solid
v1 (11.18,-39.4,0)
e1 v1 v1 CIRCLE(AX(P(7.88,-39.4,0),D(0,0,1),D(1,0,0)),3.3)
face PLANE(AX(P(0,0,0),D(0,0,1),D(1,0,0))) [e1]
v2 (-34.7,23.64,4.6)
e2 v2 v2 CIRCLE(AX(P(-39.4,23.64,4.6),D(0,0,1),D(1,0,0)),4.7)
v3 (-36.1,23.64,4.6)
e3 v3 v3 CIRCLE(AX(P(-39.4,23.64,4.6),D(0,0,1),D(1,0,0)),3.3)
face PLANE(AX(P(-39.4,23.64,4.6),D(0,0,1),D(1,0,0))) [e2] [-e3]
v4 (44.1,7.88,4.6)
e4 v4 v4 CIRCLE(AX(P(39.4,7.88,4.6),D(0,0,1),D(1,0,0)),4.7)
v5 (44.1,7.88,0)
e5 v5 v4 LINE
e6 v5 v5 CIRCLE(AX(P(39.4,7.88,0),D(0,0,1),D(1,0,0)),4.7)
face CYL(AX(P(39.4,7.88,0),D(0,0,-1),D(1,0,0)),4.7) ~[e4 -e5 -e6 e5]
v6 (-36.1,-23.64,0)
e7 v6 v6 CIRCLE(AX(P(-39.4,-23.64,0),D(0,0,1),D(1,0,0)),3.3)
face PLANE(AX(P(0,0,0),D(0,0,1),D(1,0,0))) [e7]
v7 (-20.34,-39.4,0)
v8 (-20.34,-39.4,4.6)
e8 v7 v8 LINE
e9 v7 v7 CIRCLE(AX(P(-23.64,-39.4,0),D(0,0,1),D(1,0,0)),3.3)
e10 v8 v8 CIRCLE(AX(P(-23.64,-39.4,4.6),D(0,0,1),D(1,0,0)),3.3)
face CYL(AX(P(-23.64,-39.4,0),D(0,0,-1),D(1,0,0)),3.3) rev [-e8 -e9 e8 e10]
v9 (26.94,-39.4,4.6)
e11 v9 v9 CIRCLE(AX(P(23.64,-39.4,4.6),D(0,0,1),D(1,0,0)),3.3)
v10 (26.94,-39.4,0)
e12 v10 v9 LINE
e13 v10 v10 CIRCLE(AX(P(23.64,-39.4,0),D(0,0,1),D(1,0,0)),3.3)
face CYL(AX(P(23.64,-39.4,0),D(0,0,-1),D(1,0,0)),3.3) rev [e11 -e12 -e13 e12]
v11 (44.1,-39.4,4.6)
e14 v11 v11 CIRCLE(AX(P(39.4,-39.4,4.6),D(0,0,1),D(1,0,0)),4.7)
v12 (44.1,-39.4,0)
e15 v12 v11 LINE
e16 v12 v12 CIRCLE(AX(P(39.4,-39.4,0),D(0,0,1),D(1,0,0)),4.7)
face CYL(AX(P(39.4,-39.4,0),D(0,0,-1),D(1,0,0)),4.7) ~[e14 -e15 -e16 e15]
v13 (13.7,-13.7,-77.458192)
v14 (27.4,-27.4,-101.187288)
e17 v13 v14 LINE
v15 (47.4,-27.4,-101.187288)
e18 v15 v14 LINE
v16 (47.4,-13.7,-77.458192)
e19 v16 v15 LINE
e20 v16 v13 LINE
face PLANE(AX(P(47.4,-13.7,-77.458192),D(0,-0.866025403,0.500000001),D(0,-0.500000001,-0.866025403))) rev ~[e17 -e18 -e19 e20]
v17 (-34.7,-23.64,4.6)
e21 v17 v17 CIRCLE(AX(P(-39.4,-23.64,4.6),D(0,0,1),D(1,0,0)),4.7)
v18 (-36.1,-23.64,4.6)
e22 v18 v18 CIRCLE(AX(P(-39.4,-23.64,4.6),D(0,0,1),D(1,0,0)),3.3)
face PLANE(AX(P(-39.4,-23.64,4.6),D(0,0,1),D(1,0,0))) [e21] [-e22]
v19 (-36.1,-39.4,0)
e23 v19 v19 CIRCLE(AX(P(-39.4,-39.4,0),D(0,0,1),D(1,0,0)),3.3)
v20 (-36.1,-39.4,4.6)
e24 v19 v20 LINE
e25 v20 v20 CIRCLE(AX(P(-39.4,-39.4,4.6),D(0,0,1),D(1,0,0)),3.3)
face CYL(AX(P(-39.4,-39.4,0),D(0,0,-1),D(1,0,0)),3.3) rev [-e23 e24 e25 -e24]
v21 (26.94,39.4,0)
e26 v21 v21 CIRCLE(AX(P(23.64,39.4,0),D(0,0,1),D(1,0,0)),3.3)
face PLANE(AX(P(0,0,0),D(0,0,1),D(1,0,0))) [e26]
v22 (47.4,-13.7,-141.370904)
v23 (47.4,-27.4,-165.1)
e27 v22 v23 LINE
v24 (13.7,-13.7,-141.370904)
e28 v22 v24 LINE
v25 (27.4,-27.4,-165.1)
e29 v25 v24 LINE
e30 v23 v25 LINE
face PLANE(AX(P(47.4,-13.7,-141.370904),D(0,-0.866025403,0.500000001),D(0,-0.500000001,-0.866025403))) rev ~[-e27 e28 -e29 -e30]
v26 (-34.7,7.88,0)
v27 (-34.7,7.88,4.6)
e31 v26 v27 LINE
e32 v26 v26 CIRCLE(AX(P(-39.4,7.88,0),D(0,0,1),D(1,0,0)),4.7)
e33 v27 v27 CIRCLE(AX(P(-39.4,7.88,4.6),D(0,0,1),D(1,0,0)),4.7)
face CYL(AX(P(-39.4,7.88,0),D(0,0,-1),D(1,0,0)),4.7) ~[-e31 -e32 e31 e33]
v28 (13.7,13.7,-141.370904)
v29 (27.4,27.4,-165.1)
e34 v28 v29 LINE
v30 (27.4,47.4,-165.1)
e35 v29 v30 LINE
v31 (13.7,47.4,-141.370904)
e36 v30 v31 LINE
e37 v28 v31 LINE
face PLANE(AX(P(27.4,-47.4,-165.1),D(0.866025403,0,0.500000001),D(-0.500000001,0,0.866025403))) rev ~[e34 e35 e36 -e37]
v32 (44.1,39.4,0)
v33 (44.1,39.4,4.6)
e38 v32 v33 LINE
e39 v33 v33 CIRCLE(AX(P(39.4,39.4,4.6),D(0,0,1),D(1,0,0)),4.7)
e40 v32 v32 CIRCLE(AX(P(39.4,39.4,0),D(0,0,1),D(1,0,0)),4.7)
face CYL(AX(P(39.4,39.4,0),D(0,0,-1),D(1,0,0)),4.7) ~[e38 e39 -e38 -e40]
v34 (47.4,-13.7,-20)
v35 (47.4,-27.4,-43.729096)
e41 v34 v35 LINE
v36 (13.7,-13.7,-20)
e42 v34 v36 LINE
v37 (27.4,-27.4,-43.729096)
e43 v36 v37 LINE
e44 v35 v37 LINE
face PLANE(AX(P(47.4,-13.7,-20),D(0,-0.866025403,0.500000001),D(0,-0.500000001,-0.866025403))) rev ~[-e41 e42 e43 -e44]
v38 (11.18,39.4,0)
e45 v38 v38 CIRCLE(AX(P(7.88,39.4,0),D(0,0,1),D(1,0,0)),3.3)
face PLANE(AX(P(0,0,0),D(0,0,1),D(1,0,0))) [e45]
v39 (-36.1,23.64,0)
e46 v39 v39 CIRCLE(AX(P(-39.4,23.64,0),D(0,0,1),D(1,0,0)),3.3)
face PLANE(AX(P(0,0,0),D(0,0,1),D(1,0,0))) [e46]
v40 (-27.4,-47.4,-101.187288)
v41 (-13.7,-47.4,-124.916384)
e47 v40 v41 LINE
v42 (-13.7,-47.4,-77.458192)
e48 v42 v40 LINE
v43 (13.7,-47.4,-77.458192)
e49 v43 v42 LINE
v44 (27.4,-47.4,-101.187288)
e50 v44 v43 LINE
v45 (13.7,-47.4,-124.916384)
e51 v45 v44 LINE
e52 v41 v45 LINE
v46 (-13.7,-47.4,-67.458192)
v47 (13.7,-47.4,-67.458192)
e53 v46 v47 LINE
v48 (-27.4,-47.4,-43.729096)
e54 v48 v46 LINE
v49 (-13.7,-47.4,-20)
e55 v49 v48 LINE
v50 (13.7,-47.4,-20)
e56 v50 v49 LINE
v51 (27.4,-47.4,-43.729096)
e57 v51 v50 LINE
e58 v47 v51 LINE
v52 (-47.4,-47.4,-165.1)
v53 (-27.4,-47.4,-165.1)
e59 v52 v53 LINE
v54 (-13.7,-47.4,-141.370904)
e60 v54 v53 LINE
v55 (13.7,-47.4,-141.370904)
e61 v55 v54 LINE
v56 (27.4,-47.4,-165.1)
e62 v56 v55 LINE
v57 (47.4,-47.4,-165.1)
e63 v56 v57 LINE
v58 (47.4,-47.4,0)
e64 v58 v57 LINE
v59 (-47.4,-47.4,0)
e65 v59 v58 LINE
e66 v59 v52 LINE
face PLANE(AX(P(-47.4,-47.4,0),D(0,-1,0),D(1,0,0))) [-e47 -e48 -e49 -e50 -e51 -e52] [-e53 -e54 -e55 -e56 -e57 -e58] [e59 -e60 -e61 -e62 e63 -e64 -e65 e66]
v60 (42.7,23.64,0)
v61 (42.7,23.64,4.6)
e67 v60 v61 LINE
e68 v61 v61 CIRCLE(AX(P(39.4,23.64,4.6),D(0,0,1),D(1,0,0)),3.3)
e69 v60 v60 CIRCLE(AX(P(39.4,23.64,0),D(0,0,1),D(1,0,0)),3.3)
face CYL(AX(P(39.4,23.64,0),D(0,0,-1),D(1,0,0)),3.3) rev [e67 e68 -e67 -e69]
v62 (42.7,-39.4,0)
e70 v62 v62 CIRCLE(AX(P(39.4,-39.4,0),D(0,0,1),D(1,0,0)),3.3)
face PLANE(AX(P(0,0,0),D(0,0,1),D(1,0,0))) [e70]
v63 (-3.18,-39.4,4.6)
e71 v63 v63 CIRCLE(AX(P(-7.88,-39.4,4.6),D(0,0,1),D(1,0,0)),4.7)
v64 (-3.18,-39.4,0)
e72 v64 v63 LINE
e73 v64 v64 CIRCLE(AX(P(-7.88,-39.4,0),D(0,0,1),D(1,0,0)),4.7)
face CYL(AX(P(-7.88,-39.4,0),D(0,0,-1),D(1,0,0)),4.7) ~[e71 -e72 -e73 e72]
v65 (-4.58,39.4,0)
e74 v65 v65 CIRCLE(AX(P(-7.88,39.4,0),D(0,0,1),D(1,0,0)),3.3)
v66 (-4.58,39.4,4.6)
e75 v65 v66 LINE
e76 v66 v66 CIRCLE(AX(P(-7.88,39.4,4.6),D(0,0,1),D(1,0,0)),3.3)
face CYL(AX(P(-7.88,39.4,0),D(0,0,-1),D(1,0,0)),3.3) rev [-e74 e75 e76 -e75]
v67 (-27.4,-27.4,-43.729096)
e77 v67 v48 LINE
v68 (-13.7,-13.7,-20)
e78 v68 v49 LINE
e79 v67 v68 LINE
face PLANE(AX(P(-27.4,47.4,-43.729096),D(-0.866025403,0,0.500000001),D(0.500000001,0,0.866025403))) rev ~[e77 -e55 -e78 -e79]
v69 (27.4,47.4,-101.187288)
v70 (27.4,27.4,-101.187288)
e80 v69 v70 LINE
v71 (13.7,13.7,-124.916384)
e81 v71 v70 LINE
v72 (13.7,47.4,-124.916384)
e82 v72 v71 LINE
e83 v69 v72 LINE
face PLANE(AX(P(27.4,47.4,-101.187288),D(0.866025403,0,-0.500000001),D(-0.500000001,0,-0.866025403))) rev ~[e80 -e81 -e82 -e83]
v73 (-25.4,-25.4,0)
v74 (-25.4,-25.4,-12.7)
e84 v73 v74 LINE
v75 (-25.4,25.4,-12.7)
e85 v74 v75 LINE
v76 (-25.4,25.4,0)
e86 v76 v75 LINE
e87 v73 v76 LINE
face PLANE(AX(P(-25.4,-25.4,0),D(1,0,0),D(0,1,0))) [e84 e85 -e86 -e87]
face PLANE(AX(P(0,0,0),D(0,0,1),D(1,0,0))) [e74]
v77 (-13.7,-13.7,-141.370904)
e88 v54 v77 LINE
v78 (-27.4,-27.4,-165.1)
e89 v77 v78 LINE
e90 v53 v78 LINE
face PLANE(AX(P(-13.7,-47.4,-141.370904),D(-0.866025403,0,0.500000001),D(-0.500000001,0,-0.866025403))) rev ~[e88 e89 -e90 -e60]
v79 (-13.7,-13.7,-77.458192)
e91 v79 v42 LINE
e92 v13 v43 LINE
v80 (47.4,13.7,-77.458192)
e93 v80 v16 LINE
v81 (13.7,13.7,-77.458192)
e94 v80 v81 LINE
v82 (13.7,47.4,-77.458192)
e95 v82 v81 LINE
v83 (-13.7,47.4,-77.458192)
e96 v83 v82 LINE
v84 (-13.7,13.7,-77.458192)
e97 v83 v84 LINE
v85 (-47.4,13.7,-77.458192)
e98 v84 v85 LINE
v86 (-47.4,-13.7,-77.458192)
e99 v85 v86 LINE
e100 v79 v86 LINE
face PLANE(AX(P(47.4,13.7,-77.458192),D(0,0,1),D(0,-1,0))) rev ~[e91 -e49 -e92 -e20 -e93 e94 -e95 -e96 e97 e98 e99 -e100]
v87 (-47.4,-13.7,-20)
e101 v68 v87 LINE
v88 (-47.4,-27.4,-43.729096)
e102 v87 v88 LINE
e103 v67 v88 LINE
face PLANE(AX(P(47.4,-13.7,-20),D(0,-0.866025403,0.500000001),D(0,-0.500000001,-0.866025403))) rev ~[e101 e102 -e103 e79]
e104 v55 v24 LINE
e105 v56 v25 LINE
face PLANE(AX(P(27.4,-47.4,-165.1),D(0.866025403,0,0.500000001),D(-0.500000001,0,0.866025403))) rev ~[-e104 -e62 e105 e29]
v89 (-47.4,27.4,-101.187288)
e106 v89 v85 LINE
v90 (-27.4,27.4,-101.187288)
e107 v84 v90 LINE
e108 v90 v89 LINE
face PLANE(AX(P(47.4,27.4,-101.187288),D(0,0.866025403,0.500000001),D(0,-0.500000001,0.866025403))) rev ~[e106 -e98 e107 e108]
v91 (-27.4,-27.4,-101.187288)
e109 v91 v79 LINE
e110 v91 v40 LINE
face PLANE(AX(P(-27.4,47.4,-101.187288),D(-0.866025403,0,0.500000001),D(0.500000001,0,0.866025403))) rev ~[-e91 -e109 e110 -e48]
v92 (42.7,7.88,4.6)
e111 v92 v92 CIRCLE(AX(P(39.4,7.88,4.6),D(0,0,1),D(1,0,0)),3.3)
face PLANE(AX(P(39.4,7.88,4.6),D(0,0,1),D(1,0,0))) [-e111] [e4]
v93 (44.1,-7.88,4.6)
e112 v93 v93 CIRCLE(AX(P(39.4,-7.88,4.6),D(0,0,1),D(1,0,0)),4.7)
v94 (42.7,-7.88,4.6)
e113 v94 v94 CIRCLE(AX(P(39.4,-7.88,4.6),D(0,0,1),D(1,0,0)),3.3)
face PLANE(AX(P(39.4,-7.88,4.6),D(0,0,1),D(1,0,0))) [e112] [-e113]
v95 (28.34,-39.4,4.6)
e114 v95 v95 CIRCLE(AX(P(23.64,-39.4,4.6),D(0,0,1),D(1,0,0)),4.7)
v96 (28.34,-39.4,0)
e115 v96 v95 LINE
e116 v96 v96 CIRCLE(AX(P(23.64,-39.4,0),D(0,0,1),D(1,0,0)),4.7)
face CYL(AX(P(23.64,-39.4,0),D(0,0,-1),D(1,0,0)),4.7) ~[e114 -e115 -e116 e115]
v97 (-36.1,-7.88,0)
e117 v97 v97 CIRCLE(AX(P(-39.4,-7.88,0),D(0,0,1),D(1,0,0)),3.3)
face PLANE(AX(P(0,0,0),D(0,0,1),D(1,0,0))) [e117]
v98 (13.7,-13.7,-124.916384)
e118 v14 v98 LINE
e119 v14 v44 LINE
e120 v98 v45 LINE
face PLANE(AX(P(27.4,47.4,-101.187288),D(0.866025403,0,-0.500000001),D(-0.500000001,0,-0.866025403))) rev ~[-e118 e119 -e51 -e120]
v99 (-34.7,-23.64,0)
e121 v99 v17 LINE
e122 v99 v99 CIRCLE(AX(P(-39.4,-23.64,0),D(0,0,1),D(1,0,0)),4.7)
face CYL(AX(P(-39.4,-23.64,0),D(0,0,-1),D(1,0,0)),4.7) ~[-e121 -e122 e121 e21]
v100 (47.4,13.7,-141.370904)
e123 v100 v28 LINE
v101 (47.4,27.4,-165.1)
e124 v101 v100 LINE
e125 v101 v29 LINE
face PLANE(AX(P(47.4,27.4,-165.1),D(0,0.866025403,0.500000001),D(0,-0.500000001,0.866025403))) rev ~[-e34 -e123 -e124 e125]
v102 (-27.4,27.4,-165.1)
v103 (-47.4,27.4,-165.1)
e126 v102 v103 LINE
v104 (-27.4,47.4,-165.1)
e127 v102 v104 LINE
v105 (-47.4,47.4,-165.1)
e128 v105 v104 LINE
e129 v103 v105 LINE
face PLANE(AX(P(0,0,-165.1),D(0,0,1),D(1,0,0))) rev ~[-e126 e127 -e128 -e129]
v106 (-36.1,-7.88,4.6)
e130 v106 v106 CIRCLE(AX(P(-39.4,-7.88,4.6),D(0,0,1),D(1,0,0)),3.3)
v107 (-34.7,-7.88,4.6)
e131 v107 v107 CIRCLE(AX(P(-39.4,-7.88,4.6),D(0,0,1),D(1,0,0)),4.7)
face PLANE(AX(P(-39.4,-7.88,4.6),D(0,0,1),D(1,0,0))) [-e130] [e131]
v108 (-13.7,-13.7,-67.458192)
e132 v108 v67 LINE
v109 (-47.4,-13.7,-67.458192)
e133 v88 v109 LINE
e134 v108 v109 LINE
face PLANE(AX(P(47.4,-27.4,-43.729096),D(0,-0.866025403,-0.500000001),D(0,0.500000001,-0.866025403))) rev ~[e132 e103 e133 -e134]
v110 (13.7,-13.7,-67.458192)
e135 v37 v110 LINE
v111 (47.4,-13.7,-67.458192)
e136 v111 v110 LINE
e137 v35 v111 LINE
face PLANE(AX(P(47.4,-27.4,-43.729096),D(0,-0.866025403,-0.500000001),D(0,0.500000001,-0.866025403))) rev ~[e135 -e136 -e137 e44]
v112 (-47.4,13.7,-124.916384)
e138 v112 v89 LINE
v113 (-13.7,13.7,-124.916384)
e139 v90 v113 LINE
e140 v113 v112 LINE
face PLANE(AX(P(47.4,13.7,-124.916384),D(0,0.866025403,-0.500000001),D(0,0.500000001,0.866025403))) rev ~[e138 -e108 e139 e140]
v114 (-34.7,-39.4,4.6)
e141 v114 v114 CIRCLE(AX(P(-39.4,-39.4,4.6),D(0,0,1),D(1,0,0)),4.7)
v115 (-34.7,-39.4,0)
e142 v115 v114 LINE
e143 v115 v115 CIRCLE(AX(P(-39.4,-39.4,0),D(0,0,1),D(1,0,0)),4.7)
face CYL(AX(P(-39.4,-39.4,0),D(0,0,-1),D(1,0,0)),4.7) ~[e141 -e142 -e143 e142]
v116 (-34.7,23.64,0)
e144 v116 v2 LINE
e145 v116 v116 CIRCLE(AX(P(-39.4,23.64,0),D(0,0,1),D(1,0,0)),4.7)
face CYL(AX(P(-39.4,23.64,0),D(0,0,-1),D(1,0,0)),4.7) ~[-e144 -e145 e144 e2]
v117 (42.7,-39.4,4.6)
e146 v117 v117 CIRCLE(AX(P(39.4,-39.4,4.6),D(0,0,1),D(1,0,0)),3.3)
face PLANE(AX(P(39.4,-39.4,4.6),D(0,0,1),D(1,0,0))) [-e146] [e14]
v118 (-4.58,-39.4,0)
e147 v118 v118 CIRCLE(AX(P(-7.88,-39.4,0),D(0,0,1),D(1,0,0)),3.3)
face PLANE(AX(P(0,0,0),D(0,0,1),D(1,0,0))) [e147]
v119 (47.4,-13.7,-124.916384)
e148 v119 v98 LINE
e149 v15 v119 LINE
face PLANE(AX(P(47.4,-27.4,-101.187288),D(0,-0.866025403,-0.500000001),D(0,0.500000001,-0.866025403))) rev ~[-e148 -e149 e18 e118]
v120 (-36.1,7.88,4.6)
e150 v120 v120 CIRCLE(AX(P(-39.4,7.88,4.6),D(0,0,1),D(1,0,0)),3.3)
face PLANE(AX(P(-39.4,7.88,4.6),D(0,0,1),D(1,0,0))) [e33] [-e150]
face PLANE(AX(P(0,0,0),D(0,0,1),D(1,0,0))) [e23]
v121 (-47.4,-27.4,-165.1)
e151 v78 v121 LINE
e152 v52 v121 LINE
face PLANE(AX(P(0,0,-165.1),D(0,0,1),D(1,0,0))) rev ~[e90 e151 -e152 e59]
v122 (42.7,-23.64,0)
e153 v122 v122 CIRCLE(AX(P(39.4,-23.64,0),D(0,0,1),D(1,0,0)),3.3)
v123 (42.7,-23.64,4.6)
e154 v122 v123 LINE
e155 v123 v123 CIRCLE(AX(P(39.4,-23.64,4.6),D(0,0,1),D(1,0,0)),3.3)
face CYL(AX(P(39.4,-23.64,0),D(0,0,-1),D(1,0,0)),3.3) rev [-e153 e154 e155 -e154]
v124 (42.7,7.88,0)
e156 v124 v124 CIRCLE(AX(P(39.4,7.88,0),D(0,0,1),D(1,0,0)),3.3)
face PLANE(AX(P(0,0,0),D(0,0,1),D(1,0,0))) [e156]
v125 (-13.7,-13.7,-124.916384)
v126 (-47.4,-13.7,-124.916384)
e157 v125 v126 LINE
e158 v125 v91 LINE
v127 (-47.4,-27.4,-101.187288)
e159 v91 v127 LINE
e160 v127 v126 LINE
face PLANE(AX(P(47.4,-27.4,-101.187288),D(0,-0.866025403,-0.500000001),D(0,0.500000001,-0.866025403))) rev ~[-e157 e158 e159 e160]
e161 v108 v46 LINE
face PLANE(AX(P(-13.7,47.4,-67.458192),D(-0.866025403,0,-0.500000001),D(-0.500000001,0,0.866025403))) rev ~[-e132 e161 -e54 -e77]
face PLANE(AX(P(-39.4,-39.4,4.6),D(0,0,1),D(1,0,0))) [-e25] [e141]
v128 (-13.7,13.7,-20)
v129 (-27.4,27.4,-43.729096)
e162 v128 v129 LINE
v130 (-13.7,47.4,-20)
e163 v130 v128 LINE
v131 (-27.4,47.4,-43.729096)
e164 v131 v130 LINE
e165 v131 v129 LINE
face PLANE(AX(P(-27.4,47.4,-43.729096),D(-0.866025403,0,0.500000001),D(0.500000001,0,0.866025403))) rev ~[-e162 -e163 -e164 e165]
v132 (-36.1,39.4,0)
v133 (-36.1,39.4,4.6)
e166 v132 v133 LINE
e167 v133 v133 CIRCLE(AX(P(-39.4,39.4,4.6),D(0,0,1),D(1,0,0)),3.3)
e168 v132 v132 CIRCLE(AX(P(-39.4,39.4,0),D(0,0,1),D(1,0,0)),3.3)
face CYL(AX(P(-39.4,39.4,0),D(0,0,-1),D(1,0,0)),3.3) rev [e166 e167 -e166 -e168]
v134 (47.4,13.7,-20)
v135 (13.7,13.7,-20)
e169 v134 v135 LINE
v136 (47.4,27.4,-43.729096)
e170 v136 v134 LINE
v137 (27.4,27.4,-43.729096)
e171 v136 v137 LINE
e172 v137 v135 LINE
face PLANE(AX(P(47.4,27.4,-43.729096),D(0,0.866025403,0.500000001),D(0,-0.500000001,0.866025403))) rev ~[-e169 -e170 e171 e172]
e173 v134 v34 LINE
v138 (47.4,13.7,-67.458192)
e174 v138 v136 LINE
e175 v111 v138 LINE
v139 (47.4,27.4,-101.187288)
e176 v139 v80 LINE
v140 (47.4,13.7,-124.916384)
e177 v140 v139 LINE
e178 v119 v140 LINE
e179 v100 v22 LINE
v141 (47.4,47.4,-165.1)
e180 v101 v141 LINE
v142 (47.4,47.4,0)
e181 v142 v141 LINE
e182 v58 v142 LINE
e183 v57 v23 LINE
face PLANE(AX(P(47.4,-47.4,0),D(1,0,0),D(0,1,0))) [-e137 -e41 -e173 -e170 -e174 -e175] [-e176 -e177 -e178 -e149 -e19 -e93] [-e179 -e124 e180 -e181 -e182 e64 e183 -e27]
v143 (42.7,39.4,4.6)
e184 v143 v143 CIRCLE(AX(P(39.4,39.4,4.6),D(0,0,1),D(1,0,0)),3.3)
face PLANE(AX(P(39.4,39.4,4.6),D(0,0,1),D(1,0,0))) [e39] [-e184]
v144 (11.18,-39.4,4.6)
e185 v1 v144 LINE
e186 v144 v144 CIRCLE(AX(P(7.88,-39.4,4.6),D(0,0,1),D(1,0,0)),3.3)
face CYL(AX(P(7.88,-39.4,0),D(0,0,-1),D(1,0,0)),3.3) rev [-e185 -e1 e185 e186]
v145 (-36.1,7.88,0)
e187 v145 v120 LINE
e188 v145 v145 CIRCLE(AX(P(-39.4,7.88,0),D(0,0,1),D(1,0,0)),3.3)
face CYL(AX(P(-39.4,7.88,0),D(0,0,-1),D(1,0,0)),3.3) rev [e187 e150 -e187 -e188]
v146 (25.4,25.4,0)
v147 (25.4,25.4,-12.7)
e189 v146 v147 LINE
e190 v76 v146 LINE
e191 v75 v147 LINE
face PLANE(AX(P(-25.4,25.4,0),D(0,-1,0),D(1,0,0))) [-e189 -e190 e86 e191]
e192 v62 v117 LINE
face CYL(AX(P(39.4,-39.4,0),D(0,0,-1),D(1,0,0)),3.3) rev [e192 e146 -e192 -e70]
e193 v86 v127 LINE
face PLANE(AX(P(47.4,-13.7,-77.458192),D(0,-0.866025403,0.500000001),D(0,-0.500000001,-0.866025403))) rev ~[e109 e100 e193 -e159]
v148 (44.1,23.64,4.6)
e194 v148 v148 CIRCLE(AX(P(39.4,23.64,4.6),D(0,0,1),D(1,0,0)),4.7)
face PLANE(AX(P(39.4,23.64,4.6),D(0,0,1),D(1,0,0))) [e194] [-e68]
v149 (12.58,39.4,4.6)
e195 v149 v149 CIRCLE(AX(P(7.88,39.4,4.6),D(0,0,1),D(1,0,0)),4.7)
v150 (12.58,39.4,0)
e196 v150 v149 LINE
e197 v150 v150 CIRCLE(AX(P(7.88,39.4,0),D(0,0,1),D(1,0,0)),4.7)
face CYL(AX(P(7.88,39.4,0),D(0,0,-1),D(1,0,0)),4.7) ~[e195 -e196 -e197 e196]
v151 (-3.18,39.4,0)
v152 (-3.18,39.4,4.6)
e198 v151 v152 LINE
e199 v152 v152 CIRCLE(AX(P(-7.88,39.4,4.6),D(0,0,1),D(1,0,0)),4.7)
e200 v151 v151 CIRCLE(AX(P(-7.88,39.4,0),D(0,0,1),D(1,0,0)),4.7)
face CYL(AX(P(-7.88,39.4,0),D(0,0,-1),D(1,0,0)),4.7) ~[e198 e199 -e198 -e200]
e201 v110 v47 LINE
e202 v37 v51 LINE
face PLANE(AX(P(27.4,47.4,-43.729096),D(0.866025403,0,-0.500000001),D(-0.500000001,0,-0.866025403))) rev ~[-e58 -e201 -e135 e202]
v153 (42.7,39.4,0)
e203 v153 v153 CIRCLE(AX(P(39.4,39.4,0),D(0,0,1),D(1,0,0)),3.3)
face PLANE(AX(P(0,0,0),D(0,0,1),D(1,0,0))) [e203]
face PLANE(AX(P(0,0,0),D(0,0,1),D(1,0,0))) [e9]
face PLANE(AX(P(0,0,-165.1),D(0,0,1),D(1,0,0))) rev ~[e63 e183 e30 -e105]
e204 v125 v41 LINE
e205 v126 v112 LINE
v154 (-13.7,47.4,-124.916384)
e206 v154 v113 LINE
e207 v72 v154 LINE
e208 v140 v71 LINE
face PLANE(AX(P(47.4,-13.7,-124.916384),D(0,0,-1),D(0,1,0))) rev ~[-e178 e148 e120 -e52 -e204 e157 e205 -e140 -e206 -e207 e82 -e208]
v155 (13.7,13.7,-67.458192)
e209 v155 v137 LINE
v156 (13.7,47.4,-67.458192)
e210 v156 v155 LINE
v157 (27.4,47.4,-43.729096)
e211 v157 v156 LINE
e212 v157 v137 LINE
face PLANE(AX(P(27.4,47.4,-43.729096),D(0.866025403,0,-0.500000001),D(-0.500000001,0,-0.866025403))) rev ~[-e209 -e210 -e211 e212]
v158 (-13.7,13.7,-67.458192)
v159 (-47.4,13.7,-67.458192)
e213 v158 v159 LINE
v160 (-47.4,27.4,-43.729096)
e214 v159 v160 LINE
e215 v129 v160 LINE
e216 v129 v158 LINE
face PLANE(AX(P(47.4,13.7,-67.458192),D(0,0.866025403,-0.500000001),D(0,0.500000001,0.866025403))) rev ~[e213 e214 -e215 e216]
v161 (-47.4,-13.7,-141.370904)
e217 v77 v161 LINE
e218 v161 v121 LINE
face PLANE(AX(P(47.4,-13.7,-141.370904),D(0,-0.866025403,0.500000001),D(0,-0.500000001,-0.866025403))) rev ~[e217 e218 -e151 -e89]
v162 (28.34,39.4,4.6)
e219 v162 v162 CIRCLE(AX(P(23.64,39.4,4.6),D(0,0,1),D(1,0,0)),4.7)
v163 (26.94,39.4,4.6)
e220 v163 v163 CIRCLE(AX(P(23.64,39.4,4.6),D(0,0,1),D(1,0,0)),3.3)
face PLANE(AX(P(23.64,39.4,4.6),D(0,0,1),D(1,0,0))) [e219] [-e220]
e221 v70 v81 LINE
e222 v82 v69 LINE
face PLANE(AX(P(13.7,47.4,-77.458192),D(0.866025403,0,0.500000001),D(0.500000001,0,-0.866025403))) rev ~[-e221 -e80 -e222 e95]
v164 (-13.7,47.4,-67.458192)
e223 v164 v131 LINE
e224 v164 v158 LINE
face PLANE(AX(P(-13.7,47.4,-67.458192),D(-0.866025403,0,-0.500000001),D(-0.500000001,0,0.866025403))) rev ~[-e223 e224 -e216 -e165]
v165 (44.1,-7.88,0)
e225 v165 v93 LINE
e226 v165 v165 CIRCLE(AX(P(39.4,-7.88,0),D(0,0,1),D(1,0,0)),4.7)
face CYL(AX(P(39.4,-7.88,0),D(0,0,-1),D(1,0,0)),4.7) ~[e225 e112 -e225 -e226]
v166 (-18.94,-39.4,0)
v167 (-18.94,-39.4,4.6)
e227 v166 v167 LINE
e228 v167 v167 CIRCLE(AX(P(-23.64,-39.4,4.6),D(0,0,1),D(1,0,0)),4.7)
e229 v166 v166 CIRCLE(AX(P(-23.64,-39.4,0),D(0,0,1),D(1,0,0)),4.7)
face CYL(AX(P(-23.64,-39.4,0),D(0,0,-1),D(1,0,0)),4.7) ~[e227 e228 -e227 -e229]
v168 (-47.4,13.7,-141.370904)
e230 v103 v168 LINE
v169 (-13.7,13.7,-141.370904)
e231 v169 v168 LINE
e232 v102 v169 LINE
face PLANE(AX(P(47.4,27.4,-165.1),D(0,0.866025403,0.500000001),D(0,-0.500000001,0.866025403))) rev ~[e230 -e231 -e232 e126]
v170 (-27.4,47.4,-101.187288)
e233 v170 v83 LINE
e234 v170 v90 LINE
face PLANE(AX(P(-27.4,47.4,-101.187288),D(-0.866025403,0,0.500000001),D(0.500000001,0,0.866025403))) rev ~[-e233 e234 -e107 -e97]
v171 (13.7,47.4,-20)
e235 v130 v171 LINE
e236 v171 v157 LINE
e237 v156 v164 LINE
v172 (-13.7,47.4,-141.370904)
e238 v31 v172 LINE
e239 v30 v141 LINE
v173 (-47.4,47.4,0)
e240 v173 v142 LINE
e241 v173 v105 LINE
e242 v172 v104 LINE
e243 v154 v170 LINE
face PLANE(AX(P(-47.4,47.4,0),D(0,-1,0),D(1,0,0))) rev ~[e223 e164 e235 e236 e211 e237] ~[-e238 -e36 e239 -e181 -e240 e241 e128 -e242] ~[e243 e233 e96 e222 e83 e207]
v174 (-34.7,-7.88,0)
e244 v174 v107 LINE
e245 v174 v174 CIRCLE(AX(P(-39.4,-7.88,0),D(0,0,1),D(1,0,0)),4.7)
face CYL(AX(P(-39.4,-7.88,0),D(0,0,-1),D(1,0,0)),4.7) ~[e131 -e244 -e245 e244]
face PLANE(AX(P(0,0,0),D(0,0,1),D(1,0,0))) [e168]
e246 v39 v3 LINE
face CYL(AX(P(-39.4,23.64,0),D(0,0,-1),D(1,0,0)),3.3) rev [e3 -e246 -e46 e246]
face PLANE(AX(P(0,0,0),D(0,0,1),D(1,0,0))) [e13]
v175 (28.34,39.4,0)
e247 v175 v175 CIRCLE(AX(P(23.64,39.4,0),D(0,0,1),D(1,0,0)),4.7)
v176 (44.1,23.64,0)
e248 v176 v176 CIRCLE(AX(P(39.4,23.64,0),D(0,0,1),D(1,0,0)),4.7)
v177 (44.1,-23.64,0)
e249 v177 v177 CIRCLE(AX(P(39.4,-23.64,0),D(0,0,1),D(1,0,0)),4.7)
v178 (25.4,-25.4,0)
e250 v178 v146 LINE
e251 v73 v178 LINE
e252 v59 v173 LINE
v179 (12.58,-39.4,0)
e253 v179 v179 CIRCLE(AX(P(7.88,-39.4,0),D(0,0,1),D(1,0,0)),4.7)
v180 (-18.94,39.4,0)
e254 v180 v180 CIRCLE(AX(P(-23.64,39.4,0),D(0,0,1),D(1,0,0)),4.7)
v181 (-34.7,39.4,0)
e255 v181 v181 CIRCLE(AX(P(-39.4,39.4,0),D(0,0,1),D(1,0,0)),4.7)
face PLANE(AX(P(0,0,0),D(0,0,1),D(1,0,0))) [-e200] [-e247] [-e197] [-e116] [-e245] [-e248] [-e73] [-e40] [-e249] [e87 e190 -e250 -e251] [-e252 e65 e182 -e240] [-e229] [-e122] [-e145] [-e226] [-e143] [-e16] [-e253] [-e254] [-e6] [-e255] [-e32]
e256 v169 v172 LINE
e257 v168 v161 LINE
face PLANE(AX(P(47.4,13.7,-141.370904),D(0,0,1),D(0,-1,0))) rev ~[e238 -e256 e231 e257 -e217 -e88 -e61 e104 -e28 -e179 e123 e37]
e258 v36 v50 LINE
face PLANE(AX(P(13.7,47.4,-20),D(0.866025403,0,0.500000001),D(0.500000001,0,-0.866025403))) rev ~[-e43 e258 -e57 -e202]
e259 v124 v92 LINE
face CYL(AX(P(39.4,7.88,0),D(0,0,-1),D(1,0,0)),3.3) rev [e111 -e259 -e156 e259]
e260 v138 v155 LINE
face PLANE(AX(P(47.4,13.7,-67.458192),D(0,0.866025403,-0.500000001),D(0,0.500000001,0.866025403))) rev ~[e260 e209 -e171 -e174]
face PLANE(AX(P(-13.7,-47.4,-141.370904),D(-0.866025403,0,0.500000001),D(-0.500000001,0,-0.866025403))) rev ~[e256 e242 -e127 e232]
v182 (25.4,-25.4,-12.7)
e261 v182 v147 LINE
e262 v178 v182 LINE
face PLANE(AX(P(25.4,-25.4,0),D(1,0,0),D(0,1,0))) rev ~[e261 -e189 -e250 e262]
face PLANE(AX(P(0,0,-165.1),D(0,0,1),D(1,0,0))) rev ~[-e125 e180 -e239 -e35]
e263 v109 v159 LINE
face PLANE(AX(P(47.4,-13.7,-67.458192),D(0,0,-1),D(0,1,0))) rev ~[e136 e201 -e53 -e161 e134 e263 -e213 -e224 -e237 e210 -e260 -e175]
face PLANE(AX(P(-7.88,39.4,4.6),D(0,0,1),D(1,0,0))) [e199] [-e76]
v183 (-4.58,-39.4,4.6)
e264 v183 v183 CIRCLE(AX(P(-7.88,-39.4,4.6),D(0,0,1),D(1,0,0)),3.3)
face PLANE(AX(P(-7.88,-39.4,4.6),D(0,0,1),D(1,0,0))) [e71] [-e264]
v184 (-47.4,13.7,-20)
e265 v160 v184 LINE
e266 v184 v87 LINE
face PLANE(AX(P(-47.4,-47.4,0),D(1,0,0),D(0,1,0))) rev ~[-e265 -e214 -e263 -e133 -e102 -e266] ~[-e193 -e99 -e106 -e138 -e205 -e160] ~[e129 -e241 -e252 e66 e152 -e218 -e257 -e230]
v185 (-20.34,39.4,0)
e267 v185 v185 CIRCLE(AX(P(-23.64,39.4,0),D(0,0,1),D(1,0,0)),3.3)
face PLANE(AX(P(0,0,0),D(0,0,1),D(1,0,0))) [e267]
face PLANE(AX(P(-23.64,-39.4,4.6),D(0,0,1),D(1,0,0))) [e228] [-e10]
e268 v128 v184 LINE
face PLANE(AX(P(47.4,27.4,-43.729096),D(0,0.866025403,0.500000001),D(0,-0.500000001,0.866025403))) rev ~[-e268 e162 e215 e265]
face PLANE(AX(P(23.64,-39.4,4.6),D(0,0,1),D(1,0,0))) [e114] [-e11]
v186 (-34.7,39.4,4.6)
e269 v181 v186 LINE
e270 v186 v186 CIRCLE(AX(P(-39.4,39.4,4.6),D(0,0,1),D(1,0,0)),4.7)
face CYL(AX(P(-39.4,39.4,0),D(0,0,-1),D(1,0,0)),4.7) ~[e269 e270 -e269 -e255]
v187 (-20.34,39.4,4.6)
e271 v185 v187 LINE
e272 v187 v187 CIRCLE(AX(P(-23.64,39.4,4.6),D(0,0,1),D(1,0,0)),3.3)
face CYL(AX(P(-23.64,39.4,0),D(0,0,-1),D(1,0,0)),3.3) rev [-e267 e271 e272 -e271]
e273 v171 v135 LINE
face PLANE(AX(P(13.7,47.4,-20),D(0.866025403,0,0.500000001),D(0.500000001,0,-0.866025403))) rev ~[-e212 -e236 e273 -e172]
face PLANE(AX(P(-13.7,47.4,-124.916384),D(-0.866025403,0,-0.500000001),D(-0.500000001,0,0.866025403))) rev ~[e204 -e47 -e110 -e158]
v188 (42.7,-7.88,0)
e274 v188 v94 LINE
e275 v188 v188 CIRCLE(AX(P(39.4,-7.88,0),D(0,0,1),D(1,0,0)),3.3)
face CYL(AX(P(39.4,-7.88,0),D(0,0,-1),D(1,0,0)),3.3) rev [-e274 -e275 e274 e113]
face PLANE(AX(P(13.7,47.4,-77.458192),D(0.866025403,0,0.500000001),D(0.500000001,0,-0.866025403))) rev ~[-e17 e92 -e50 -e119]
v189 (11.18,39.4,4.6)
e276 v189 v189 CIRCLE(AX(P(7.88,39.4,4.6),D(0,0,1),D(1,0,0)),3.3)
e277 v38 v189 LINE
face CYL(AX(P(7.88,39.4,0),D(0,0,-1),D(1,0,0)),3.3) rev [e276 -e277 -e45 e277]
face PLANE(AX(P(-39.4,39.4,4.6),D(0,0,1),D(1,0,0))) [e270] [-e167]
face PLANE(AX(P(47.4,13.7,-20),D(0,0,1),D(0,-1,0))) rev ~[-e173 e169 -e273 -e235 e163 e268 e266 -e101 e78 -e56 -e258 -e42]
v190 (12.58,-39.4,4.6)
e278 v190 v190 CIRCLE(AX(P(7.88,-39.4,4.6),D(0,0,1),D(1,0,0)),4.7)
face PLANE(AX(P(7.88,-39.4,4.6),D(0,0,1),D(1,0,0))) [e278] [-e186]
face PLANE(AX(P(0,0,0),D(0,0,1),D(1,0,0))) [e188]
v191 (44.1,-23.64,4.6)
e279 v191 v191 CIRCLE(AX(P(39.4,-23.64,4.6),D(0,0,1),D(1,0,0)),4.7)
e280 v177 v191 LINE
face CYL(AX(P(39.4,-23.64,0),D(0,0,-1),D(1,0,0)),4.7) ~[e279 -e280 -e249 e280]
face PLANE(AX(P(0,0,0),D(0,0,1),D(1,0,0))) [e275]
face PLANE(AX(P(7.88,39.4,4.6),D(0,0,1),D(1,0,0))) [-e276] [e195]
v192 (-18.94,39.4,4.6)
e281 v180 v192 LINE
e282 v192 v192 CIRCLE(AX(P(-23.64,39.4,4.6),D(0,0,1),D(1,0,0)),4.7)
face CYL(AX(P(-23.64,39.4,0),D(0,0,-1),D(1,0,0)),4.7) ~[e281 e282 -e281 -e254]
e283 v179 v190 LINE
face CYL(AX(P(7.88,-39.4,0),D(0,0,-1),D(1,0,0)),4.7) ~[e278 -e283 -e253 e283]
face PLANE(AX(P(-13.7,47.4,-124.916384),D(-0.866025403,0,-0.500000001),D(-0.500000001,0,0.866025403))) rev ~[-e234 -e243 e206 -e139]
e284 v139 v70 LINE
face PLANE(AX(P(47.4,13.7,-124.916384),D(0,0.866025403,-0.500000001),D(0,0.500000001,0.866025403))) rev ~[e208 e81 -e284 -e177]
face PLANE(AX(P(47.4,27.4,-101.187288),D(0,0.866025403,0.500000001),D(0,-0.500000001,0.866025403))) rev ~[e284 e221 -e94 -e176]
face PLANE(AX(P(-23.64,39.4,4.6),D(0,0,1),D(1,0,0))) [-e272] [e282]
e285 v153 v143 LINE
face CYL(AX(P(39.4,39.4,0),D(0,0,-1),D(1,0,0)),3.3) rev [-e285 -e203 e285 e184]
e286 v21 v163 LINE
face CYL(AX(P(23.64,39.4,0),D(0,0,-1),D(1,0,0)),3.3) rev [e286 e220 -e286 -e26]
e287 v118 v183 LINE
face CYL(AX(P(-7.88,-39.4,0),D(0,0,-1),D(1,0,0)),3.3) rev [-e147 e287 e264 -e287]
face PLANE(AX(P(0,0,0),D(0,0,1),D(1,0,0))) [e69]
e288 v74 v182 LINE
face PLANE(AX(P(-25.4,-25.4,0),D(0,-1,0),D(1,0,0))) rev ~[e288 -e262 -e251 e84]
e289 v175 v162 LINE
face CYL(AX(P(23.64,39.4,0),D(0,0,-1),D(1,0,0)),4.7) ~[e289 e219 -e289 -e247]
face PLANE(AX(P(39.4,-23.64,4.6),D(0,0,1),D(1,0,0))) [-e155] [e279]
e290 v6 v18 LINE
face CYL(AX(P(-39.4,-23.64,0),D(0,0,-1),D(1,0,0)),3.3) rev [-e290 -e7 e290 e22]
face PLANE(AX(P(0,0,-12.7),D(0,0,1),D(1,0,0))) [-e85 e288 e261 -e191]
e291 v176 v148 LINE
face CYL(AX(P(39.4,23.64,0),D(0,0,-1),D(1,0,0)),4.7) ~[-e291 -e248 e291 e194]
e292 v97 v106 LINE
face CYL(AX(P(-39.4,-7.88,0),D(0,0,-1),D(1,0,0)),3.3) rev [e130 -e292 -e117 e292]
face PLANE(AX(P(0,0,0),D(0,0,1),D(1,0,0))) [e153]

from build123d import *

# Parameters (mm, degrees)
F0_W      = 94.8
F0_H      = 94.8
F0_W_2    = 50.8
F0_H_2    = 50.8
F1_DEPTH  = 165.1
F2_DEPTH  = 12.7
F4_DEPTH  = 101.3
F6_DEPTH  = 114
F8_DEPTH  = 110
F9_DEPTH  = 114
F11_DEPTH = 115
F12_R     = 4.7
F12_R_2   = 3.3
F13_DEPTH = 4.6


with BuildPart() as f1:
    # F0 (on Top) → F1 (new body)
    with BuildSketch(Plane.XY):
        Rectangle(F0_W, F0_H)
        Rectangle(F0_W_2, F0_H_2, mode=Mode.SUBTRACT)
        Rectangle(F0_W_2, F0_H_2)
    extrude(amount=-F1_DEPTH)

    # F0 (on Top) → F2 (cut)
    with BuildSketch(Plane.XY):
        Rectangle(F0_W_2, F0_H_2)
    extrude(amount=-F2_DEPTH, mode=Mode.SUBTRACT)

    # F3 (on face) → F4 (cut)
    with BuildSketch(Plane.YZ.offset(47.4)):
        Polygon((0, -141.370904), (-13.7, -141.370904), (-27.4, -165.1), (-13.7, -188.829096), (13.7, -188.829096), (27.4, -165.1), (13.7, -141.370904), align=None)
    extrude(amount=-F4_DEPTH, mode=Mode.SUBTRACT)

    # F5 (on face) → F6 (cut)
    with BuildSketch(Plane.XZ.offset(47.4)):
        Polygon((13.7, -141.370904), (-13.7, -141.370904), (-27.4, -165.1), (27.4, -165.1), align=None)
    extrude(amount=-F6_DEPTH, mode=Mode.SUBTRACT)

    # F7 (on face) → F8 (cut)
    with BuildSketch(Plane(origin=(0, 47.4, 0), x_dir=(-1, 0, 0), z_dir=(0, 1, 0))):
        Polygon((13.7, -20), (-13.7, -20), (-27.4, -43.729096), (-13.7, -67.458192), (13.7, -67.458192), (27.4, -43.729096), align=None)
    extrude(amount=-F8_DEPTH, mode=Mode.SUBTRACT)

    # F7 (on face) → F9 (cut)
    with BuildSketch(Plane(origin=(0, 47.4, 0), x_dir=(-1, 0, 0), z_dir=(0, 1, 0))):
        Polygon((13.7, -77.458192), (-13.7, -77.458192), (-27.4, -101.187288), (-13.7, -124.916384), (13.7, -124.916384), (27.4, -101.187288), align=None)
    extrude(amount=-F9_DEPTH, mode=Mode.SUBTRACT)

    # F10 (on face) → F11 (cut)
    with BuildSketch(Plane.YZ.offset(47.4)):
        Polygon((13.7, -20), (-13.7, -20), (-27.4, -43.729096), (-13.7, -67.458192), (13.7, -67.458192), (27.4, -43.729096), align=None)
        Polygon((13.7, -77.458192), (-13.7, -77.458192), (-27.4, -101.187288), (-13.7, -124.916384), (13.7, -124.916384), (27.4, -101.187288), align=None)
    extrude(amount=-F11_DEPTH, mode=Mode.SUBTRACT)

    # F12 (on face) → F13 (join)
    with BuildSketch(Plane.XY):
        with Locations((-39.4, 39.4)):
            Circle(F12_R)
        with Locations((-39.4, 39.4)):
            Circle(F12_R_2, mode=Mode.SUBTRACT)
        with Locations((-39.4, 23.64)):
            Circle(F12_R)
        with Locations((-39.4, 23.64)):
            Circle(F12_R_2, mode=Mode.SUBTRACT)
        with Locations((-39.4, 7.88)):
            Circle(F12_R)
        with Locations((-39.4, 7.88)):
            Circle(F12_R_2, mode=Mode.SUBTRACT)
        with Locations((-39.4, -7.88)):
            Circle(F12_R)
        with Locations((-39.4, -7.88)):
            Circle(F12_R_2, mode=Mode.SUBTRACT)
        with Locations((-39.4, -23.64)):
            Circle(F12_R)
        with Locations((-39.4, -23.64)):
            Circle(F12_R_2, mode=Mode.SUBTRACT)
        with Locations((-39.4, -39.4)):
            Circle(F12_R)
        with Locations((-39.4, -39.4)):
            Circle(F12_R_2, mode=Mode.SUBTRACT)
        with Locations((-23.64, -39.4)):
            Circle(F12_R)
        with Locations((-23.64, -39.4)):
            Circle(F12_R_2, mode=Mode.SUBTRACT)
        with Locations((-7.88, -39.4)):
            Circle(F12_R)
        with Locations((-7.88, -39.4)):
            Circle(F12_R_2, mode=Mode.SUBTRACT)
        with Locations((-23.64, 39.4)):
            Circle(F12_R)
        with Locations((-23.64, 39.4)):
            Circle(F12_R_2, mode=Mode.SUBTRACT)
        with Locations((-7.88, 39.4)):
            Circle(F12_R)
        with Locations((-7.88, 39.4)):
            Circle(F12_R_2, mode=Mode.SUBTRACT)
        with Locations((7.88, 39.4)):
            Circle(F12_R)
        with Locations((7.88, 39.4)):
            Circle(F12_R_2, mode=Mode.SUBTRACT)
        with Locations((23.64, 39.4)):
            Circle(F12_R)
        with Locations((23.64, 39.4)):
            Circle(F12_R_2, mode=Mode.SUBTRACT)
        with Locations((39.4, 39.4)):
            Circle(F12_R)
        with Locations((39.4, 39.4)):
            Circle(F12_R_2, mode=Mode.SUBTRACT)
        with Locations((39.4, 23.64)):
            Circle(F12_R)
        with Locations((39.4, 23.64)):
            Circle(F12_R_2, mode=Mode.SUBTRACT)
        with Locations((39.4, 7.88)):
            Circle(F12_R)
        with Locations((39.4, 7.88)):
            Circle(F12_R_2, mode=Mode.SUBTRACT)
        with Locations((39.4, -7.88)):
            Circle(F12_R)
        with Locations((39.4, -7.88)):
            Circle(F12_R_2, mode=Mode.SUBTRACT)
        with Locations((39.4, -23.64)):
            Circle(F12_R)
        with Locations((39.4, -23.64)):
            Circle(F12_R_2, mode=Mode.SUBTRACT)
        with Locations((39.4, -39.4)):
            Circle(F12_R)
        with Locations((39.4, -39.4)):
            Circle(F12_R_2, mode=Mode.SUBTRACT)
        with Locations((23.64, -39.4)):
            Circle(F12_R)
        with Locations((23.64, -39.4)):
            Circle(F12_R_2, mode=Mode.SUBTRACT)
        with Locations((7.88, -39.4)):
            Circle(F12_R)
        with Locations((7.88, -39.4)):
            Circle(F12_R_2, mode=Mode.SUBTRACT)
    extrude(amount=F13_DEPTH)


solid = f1.part
